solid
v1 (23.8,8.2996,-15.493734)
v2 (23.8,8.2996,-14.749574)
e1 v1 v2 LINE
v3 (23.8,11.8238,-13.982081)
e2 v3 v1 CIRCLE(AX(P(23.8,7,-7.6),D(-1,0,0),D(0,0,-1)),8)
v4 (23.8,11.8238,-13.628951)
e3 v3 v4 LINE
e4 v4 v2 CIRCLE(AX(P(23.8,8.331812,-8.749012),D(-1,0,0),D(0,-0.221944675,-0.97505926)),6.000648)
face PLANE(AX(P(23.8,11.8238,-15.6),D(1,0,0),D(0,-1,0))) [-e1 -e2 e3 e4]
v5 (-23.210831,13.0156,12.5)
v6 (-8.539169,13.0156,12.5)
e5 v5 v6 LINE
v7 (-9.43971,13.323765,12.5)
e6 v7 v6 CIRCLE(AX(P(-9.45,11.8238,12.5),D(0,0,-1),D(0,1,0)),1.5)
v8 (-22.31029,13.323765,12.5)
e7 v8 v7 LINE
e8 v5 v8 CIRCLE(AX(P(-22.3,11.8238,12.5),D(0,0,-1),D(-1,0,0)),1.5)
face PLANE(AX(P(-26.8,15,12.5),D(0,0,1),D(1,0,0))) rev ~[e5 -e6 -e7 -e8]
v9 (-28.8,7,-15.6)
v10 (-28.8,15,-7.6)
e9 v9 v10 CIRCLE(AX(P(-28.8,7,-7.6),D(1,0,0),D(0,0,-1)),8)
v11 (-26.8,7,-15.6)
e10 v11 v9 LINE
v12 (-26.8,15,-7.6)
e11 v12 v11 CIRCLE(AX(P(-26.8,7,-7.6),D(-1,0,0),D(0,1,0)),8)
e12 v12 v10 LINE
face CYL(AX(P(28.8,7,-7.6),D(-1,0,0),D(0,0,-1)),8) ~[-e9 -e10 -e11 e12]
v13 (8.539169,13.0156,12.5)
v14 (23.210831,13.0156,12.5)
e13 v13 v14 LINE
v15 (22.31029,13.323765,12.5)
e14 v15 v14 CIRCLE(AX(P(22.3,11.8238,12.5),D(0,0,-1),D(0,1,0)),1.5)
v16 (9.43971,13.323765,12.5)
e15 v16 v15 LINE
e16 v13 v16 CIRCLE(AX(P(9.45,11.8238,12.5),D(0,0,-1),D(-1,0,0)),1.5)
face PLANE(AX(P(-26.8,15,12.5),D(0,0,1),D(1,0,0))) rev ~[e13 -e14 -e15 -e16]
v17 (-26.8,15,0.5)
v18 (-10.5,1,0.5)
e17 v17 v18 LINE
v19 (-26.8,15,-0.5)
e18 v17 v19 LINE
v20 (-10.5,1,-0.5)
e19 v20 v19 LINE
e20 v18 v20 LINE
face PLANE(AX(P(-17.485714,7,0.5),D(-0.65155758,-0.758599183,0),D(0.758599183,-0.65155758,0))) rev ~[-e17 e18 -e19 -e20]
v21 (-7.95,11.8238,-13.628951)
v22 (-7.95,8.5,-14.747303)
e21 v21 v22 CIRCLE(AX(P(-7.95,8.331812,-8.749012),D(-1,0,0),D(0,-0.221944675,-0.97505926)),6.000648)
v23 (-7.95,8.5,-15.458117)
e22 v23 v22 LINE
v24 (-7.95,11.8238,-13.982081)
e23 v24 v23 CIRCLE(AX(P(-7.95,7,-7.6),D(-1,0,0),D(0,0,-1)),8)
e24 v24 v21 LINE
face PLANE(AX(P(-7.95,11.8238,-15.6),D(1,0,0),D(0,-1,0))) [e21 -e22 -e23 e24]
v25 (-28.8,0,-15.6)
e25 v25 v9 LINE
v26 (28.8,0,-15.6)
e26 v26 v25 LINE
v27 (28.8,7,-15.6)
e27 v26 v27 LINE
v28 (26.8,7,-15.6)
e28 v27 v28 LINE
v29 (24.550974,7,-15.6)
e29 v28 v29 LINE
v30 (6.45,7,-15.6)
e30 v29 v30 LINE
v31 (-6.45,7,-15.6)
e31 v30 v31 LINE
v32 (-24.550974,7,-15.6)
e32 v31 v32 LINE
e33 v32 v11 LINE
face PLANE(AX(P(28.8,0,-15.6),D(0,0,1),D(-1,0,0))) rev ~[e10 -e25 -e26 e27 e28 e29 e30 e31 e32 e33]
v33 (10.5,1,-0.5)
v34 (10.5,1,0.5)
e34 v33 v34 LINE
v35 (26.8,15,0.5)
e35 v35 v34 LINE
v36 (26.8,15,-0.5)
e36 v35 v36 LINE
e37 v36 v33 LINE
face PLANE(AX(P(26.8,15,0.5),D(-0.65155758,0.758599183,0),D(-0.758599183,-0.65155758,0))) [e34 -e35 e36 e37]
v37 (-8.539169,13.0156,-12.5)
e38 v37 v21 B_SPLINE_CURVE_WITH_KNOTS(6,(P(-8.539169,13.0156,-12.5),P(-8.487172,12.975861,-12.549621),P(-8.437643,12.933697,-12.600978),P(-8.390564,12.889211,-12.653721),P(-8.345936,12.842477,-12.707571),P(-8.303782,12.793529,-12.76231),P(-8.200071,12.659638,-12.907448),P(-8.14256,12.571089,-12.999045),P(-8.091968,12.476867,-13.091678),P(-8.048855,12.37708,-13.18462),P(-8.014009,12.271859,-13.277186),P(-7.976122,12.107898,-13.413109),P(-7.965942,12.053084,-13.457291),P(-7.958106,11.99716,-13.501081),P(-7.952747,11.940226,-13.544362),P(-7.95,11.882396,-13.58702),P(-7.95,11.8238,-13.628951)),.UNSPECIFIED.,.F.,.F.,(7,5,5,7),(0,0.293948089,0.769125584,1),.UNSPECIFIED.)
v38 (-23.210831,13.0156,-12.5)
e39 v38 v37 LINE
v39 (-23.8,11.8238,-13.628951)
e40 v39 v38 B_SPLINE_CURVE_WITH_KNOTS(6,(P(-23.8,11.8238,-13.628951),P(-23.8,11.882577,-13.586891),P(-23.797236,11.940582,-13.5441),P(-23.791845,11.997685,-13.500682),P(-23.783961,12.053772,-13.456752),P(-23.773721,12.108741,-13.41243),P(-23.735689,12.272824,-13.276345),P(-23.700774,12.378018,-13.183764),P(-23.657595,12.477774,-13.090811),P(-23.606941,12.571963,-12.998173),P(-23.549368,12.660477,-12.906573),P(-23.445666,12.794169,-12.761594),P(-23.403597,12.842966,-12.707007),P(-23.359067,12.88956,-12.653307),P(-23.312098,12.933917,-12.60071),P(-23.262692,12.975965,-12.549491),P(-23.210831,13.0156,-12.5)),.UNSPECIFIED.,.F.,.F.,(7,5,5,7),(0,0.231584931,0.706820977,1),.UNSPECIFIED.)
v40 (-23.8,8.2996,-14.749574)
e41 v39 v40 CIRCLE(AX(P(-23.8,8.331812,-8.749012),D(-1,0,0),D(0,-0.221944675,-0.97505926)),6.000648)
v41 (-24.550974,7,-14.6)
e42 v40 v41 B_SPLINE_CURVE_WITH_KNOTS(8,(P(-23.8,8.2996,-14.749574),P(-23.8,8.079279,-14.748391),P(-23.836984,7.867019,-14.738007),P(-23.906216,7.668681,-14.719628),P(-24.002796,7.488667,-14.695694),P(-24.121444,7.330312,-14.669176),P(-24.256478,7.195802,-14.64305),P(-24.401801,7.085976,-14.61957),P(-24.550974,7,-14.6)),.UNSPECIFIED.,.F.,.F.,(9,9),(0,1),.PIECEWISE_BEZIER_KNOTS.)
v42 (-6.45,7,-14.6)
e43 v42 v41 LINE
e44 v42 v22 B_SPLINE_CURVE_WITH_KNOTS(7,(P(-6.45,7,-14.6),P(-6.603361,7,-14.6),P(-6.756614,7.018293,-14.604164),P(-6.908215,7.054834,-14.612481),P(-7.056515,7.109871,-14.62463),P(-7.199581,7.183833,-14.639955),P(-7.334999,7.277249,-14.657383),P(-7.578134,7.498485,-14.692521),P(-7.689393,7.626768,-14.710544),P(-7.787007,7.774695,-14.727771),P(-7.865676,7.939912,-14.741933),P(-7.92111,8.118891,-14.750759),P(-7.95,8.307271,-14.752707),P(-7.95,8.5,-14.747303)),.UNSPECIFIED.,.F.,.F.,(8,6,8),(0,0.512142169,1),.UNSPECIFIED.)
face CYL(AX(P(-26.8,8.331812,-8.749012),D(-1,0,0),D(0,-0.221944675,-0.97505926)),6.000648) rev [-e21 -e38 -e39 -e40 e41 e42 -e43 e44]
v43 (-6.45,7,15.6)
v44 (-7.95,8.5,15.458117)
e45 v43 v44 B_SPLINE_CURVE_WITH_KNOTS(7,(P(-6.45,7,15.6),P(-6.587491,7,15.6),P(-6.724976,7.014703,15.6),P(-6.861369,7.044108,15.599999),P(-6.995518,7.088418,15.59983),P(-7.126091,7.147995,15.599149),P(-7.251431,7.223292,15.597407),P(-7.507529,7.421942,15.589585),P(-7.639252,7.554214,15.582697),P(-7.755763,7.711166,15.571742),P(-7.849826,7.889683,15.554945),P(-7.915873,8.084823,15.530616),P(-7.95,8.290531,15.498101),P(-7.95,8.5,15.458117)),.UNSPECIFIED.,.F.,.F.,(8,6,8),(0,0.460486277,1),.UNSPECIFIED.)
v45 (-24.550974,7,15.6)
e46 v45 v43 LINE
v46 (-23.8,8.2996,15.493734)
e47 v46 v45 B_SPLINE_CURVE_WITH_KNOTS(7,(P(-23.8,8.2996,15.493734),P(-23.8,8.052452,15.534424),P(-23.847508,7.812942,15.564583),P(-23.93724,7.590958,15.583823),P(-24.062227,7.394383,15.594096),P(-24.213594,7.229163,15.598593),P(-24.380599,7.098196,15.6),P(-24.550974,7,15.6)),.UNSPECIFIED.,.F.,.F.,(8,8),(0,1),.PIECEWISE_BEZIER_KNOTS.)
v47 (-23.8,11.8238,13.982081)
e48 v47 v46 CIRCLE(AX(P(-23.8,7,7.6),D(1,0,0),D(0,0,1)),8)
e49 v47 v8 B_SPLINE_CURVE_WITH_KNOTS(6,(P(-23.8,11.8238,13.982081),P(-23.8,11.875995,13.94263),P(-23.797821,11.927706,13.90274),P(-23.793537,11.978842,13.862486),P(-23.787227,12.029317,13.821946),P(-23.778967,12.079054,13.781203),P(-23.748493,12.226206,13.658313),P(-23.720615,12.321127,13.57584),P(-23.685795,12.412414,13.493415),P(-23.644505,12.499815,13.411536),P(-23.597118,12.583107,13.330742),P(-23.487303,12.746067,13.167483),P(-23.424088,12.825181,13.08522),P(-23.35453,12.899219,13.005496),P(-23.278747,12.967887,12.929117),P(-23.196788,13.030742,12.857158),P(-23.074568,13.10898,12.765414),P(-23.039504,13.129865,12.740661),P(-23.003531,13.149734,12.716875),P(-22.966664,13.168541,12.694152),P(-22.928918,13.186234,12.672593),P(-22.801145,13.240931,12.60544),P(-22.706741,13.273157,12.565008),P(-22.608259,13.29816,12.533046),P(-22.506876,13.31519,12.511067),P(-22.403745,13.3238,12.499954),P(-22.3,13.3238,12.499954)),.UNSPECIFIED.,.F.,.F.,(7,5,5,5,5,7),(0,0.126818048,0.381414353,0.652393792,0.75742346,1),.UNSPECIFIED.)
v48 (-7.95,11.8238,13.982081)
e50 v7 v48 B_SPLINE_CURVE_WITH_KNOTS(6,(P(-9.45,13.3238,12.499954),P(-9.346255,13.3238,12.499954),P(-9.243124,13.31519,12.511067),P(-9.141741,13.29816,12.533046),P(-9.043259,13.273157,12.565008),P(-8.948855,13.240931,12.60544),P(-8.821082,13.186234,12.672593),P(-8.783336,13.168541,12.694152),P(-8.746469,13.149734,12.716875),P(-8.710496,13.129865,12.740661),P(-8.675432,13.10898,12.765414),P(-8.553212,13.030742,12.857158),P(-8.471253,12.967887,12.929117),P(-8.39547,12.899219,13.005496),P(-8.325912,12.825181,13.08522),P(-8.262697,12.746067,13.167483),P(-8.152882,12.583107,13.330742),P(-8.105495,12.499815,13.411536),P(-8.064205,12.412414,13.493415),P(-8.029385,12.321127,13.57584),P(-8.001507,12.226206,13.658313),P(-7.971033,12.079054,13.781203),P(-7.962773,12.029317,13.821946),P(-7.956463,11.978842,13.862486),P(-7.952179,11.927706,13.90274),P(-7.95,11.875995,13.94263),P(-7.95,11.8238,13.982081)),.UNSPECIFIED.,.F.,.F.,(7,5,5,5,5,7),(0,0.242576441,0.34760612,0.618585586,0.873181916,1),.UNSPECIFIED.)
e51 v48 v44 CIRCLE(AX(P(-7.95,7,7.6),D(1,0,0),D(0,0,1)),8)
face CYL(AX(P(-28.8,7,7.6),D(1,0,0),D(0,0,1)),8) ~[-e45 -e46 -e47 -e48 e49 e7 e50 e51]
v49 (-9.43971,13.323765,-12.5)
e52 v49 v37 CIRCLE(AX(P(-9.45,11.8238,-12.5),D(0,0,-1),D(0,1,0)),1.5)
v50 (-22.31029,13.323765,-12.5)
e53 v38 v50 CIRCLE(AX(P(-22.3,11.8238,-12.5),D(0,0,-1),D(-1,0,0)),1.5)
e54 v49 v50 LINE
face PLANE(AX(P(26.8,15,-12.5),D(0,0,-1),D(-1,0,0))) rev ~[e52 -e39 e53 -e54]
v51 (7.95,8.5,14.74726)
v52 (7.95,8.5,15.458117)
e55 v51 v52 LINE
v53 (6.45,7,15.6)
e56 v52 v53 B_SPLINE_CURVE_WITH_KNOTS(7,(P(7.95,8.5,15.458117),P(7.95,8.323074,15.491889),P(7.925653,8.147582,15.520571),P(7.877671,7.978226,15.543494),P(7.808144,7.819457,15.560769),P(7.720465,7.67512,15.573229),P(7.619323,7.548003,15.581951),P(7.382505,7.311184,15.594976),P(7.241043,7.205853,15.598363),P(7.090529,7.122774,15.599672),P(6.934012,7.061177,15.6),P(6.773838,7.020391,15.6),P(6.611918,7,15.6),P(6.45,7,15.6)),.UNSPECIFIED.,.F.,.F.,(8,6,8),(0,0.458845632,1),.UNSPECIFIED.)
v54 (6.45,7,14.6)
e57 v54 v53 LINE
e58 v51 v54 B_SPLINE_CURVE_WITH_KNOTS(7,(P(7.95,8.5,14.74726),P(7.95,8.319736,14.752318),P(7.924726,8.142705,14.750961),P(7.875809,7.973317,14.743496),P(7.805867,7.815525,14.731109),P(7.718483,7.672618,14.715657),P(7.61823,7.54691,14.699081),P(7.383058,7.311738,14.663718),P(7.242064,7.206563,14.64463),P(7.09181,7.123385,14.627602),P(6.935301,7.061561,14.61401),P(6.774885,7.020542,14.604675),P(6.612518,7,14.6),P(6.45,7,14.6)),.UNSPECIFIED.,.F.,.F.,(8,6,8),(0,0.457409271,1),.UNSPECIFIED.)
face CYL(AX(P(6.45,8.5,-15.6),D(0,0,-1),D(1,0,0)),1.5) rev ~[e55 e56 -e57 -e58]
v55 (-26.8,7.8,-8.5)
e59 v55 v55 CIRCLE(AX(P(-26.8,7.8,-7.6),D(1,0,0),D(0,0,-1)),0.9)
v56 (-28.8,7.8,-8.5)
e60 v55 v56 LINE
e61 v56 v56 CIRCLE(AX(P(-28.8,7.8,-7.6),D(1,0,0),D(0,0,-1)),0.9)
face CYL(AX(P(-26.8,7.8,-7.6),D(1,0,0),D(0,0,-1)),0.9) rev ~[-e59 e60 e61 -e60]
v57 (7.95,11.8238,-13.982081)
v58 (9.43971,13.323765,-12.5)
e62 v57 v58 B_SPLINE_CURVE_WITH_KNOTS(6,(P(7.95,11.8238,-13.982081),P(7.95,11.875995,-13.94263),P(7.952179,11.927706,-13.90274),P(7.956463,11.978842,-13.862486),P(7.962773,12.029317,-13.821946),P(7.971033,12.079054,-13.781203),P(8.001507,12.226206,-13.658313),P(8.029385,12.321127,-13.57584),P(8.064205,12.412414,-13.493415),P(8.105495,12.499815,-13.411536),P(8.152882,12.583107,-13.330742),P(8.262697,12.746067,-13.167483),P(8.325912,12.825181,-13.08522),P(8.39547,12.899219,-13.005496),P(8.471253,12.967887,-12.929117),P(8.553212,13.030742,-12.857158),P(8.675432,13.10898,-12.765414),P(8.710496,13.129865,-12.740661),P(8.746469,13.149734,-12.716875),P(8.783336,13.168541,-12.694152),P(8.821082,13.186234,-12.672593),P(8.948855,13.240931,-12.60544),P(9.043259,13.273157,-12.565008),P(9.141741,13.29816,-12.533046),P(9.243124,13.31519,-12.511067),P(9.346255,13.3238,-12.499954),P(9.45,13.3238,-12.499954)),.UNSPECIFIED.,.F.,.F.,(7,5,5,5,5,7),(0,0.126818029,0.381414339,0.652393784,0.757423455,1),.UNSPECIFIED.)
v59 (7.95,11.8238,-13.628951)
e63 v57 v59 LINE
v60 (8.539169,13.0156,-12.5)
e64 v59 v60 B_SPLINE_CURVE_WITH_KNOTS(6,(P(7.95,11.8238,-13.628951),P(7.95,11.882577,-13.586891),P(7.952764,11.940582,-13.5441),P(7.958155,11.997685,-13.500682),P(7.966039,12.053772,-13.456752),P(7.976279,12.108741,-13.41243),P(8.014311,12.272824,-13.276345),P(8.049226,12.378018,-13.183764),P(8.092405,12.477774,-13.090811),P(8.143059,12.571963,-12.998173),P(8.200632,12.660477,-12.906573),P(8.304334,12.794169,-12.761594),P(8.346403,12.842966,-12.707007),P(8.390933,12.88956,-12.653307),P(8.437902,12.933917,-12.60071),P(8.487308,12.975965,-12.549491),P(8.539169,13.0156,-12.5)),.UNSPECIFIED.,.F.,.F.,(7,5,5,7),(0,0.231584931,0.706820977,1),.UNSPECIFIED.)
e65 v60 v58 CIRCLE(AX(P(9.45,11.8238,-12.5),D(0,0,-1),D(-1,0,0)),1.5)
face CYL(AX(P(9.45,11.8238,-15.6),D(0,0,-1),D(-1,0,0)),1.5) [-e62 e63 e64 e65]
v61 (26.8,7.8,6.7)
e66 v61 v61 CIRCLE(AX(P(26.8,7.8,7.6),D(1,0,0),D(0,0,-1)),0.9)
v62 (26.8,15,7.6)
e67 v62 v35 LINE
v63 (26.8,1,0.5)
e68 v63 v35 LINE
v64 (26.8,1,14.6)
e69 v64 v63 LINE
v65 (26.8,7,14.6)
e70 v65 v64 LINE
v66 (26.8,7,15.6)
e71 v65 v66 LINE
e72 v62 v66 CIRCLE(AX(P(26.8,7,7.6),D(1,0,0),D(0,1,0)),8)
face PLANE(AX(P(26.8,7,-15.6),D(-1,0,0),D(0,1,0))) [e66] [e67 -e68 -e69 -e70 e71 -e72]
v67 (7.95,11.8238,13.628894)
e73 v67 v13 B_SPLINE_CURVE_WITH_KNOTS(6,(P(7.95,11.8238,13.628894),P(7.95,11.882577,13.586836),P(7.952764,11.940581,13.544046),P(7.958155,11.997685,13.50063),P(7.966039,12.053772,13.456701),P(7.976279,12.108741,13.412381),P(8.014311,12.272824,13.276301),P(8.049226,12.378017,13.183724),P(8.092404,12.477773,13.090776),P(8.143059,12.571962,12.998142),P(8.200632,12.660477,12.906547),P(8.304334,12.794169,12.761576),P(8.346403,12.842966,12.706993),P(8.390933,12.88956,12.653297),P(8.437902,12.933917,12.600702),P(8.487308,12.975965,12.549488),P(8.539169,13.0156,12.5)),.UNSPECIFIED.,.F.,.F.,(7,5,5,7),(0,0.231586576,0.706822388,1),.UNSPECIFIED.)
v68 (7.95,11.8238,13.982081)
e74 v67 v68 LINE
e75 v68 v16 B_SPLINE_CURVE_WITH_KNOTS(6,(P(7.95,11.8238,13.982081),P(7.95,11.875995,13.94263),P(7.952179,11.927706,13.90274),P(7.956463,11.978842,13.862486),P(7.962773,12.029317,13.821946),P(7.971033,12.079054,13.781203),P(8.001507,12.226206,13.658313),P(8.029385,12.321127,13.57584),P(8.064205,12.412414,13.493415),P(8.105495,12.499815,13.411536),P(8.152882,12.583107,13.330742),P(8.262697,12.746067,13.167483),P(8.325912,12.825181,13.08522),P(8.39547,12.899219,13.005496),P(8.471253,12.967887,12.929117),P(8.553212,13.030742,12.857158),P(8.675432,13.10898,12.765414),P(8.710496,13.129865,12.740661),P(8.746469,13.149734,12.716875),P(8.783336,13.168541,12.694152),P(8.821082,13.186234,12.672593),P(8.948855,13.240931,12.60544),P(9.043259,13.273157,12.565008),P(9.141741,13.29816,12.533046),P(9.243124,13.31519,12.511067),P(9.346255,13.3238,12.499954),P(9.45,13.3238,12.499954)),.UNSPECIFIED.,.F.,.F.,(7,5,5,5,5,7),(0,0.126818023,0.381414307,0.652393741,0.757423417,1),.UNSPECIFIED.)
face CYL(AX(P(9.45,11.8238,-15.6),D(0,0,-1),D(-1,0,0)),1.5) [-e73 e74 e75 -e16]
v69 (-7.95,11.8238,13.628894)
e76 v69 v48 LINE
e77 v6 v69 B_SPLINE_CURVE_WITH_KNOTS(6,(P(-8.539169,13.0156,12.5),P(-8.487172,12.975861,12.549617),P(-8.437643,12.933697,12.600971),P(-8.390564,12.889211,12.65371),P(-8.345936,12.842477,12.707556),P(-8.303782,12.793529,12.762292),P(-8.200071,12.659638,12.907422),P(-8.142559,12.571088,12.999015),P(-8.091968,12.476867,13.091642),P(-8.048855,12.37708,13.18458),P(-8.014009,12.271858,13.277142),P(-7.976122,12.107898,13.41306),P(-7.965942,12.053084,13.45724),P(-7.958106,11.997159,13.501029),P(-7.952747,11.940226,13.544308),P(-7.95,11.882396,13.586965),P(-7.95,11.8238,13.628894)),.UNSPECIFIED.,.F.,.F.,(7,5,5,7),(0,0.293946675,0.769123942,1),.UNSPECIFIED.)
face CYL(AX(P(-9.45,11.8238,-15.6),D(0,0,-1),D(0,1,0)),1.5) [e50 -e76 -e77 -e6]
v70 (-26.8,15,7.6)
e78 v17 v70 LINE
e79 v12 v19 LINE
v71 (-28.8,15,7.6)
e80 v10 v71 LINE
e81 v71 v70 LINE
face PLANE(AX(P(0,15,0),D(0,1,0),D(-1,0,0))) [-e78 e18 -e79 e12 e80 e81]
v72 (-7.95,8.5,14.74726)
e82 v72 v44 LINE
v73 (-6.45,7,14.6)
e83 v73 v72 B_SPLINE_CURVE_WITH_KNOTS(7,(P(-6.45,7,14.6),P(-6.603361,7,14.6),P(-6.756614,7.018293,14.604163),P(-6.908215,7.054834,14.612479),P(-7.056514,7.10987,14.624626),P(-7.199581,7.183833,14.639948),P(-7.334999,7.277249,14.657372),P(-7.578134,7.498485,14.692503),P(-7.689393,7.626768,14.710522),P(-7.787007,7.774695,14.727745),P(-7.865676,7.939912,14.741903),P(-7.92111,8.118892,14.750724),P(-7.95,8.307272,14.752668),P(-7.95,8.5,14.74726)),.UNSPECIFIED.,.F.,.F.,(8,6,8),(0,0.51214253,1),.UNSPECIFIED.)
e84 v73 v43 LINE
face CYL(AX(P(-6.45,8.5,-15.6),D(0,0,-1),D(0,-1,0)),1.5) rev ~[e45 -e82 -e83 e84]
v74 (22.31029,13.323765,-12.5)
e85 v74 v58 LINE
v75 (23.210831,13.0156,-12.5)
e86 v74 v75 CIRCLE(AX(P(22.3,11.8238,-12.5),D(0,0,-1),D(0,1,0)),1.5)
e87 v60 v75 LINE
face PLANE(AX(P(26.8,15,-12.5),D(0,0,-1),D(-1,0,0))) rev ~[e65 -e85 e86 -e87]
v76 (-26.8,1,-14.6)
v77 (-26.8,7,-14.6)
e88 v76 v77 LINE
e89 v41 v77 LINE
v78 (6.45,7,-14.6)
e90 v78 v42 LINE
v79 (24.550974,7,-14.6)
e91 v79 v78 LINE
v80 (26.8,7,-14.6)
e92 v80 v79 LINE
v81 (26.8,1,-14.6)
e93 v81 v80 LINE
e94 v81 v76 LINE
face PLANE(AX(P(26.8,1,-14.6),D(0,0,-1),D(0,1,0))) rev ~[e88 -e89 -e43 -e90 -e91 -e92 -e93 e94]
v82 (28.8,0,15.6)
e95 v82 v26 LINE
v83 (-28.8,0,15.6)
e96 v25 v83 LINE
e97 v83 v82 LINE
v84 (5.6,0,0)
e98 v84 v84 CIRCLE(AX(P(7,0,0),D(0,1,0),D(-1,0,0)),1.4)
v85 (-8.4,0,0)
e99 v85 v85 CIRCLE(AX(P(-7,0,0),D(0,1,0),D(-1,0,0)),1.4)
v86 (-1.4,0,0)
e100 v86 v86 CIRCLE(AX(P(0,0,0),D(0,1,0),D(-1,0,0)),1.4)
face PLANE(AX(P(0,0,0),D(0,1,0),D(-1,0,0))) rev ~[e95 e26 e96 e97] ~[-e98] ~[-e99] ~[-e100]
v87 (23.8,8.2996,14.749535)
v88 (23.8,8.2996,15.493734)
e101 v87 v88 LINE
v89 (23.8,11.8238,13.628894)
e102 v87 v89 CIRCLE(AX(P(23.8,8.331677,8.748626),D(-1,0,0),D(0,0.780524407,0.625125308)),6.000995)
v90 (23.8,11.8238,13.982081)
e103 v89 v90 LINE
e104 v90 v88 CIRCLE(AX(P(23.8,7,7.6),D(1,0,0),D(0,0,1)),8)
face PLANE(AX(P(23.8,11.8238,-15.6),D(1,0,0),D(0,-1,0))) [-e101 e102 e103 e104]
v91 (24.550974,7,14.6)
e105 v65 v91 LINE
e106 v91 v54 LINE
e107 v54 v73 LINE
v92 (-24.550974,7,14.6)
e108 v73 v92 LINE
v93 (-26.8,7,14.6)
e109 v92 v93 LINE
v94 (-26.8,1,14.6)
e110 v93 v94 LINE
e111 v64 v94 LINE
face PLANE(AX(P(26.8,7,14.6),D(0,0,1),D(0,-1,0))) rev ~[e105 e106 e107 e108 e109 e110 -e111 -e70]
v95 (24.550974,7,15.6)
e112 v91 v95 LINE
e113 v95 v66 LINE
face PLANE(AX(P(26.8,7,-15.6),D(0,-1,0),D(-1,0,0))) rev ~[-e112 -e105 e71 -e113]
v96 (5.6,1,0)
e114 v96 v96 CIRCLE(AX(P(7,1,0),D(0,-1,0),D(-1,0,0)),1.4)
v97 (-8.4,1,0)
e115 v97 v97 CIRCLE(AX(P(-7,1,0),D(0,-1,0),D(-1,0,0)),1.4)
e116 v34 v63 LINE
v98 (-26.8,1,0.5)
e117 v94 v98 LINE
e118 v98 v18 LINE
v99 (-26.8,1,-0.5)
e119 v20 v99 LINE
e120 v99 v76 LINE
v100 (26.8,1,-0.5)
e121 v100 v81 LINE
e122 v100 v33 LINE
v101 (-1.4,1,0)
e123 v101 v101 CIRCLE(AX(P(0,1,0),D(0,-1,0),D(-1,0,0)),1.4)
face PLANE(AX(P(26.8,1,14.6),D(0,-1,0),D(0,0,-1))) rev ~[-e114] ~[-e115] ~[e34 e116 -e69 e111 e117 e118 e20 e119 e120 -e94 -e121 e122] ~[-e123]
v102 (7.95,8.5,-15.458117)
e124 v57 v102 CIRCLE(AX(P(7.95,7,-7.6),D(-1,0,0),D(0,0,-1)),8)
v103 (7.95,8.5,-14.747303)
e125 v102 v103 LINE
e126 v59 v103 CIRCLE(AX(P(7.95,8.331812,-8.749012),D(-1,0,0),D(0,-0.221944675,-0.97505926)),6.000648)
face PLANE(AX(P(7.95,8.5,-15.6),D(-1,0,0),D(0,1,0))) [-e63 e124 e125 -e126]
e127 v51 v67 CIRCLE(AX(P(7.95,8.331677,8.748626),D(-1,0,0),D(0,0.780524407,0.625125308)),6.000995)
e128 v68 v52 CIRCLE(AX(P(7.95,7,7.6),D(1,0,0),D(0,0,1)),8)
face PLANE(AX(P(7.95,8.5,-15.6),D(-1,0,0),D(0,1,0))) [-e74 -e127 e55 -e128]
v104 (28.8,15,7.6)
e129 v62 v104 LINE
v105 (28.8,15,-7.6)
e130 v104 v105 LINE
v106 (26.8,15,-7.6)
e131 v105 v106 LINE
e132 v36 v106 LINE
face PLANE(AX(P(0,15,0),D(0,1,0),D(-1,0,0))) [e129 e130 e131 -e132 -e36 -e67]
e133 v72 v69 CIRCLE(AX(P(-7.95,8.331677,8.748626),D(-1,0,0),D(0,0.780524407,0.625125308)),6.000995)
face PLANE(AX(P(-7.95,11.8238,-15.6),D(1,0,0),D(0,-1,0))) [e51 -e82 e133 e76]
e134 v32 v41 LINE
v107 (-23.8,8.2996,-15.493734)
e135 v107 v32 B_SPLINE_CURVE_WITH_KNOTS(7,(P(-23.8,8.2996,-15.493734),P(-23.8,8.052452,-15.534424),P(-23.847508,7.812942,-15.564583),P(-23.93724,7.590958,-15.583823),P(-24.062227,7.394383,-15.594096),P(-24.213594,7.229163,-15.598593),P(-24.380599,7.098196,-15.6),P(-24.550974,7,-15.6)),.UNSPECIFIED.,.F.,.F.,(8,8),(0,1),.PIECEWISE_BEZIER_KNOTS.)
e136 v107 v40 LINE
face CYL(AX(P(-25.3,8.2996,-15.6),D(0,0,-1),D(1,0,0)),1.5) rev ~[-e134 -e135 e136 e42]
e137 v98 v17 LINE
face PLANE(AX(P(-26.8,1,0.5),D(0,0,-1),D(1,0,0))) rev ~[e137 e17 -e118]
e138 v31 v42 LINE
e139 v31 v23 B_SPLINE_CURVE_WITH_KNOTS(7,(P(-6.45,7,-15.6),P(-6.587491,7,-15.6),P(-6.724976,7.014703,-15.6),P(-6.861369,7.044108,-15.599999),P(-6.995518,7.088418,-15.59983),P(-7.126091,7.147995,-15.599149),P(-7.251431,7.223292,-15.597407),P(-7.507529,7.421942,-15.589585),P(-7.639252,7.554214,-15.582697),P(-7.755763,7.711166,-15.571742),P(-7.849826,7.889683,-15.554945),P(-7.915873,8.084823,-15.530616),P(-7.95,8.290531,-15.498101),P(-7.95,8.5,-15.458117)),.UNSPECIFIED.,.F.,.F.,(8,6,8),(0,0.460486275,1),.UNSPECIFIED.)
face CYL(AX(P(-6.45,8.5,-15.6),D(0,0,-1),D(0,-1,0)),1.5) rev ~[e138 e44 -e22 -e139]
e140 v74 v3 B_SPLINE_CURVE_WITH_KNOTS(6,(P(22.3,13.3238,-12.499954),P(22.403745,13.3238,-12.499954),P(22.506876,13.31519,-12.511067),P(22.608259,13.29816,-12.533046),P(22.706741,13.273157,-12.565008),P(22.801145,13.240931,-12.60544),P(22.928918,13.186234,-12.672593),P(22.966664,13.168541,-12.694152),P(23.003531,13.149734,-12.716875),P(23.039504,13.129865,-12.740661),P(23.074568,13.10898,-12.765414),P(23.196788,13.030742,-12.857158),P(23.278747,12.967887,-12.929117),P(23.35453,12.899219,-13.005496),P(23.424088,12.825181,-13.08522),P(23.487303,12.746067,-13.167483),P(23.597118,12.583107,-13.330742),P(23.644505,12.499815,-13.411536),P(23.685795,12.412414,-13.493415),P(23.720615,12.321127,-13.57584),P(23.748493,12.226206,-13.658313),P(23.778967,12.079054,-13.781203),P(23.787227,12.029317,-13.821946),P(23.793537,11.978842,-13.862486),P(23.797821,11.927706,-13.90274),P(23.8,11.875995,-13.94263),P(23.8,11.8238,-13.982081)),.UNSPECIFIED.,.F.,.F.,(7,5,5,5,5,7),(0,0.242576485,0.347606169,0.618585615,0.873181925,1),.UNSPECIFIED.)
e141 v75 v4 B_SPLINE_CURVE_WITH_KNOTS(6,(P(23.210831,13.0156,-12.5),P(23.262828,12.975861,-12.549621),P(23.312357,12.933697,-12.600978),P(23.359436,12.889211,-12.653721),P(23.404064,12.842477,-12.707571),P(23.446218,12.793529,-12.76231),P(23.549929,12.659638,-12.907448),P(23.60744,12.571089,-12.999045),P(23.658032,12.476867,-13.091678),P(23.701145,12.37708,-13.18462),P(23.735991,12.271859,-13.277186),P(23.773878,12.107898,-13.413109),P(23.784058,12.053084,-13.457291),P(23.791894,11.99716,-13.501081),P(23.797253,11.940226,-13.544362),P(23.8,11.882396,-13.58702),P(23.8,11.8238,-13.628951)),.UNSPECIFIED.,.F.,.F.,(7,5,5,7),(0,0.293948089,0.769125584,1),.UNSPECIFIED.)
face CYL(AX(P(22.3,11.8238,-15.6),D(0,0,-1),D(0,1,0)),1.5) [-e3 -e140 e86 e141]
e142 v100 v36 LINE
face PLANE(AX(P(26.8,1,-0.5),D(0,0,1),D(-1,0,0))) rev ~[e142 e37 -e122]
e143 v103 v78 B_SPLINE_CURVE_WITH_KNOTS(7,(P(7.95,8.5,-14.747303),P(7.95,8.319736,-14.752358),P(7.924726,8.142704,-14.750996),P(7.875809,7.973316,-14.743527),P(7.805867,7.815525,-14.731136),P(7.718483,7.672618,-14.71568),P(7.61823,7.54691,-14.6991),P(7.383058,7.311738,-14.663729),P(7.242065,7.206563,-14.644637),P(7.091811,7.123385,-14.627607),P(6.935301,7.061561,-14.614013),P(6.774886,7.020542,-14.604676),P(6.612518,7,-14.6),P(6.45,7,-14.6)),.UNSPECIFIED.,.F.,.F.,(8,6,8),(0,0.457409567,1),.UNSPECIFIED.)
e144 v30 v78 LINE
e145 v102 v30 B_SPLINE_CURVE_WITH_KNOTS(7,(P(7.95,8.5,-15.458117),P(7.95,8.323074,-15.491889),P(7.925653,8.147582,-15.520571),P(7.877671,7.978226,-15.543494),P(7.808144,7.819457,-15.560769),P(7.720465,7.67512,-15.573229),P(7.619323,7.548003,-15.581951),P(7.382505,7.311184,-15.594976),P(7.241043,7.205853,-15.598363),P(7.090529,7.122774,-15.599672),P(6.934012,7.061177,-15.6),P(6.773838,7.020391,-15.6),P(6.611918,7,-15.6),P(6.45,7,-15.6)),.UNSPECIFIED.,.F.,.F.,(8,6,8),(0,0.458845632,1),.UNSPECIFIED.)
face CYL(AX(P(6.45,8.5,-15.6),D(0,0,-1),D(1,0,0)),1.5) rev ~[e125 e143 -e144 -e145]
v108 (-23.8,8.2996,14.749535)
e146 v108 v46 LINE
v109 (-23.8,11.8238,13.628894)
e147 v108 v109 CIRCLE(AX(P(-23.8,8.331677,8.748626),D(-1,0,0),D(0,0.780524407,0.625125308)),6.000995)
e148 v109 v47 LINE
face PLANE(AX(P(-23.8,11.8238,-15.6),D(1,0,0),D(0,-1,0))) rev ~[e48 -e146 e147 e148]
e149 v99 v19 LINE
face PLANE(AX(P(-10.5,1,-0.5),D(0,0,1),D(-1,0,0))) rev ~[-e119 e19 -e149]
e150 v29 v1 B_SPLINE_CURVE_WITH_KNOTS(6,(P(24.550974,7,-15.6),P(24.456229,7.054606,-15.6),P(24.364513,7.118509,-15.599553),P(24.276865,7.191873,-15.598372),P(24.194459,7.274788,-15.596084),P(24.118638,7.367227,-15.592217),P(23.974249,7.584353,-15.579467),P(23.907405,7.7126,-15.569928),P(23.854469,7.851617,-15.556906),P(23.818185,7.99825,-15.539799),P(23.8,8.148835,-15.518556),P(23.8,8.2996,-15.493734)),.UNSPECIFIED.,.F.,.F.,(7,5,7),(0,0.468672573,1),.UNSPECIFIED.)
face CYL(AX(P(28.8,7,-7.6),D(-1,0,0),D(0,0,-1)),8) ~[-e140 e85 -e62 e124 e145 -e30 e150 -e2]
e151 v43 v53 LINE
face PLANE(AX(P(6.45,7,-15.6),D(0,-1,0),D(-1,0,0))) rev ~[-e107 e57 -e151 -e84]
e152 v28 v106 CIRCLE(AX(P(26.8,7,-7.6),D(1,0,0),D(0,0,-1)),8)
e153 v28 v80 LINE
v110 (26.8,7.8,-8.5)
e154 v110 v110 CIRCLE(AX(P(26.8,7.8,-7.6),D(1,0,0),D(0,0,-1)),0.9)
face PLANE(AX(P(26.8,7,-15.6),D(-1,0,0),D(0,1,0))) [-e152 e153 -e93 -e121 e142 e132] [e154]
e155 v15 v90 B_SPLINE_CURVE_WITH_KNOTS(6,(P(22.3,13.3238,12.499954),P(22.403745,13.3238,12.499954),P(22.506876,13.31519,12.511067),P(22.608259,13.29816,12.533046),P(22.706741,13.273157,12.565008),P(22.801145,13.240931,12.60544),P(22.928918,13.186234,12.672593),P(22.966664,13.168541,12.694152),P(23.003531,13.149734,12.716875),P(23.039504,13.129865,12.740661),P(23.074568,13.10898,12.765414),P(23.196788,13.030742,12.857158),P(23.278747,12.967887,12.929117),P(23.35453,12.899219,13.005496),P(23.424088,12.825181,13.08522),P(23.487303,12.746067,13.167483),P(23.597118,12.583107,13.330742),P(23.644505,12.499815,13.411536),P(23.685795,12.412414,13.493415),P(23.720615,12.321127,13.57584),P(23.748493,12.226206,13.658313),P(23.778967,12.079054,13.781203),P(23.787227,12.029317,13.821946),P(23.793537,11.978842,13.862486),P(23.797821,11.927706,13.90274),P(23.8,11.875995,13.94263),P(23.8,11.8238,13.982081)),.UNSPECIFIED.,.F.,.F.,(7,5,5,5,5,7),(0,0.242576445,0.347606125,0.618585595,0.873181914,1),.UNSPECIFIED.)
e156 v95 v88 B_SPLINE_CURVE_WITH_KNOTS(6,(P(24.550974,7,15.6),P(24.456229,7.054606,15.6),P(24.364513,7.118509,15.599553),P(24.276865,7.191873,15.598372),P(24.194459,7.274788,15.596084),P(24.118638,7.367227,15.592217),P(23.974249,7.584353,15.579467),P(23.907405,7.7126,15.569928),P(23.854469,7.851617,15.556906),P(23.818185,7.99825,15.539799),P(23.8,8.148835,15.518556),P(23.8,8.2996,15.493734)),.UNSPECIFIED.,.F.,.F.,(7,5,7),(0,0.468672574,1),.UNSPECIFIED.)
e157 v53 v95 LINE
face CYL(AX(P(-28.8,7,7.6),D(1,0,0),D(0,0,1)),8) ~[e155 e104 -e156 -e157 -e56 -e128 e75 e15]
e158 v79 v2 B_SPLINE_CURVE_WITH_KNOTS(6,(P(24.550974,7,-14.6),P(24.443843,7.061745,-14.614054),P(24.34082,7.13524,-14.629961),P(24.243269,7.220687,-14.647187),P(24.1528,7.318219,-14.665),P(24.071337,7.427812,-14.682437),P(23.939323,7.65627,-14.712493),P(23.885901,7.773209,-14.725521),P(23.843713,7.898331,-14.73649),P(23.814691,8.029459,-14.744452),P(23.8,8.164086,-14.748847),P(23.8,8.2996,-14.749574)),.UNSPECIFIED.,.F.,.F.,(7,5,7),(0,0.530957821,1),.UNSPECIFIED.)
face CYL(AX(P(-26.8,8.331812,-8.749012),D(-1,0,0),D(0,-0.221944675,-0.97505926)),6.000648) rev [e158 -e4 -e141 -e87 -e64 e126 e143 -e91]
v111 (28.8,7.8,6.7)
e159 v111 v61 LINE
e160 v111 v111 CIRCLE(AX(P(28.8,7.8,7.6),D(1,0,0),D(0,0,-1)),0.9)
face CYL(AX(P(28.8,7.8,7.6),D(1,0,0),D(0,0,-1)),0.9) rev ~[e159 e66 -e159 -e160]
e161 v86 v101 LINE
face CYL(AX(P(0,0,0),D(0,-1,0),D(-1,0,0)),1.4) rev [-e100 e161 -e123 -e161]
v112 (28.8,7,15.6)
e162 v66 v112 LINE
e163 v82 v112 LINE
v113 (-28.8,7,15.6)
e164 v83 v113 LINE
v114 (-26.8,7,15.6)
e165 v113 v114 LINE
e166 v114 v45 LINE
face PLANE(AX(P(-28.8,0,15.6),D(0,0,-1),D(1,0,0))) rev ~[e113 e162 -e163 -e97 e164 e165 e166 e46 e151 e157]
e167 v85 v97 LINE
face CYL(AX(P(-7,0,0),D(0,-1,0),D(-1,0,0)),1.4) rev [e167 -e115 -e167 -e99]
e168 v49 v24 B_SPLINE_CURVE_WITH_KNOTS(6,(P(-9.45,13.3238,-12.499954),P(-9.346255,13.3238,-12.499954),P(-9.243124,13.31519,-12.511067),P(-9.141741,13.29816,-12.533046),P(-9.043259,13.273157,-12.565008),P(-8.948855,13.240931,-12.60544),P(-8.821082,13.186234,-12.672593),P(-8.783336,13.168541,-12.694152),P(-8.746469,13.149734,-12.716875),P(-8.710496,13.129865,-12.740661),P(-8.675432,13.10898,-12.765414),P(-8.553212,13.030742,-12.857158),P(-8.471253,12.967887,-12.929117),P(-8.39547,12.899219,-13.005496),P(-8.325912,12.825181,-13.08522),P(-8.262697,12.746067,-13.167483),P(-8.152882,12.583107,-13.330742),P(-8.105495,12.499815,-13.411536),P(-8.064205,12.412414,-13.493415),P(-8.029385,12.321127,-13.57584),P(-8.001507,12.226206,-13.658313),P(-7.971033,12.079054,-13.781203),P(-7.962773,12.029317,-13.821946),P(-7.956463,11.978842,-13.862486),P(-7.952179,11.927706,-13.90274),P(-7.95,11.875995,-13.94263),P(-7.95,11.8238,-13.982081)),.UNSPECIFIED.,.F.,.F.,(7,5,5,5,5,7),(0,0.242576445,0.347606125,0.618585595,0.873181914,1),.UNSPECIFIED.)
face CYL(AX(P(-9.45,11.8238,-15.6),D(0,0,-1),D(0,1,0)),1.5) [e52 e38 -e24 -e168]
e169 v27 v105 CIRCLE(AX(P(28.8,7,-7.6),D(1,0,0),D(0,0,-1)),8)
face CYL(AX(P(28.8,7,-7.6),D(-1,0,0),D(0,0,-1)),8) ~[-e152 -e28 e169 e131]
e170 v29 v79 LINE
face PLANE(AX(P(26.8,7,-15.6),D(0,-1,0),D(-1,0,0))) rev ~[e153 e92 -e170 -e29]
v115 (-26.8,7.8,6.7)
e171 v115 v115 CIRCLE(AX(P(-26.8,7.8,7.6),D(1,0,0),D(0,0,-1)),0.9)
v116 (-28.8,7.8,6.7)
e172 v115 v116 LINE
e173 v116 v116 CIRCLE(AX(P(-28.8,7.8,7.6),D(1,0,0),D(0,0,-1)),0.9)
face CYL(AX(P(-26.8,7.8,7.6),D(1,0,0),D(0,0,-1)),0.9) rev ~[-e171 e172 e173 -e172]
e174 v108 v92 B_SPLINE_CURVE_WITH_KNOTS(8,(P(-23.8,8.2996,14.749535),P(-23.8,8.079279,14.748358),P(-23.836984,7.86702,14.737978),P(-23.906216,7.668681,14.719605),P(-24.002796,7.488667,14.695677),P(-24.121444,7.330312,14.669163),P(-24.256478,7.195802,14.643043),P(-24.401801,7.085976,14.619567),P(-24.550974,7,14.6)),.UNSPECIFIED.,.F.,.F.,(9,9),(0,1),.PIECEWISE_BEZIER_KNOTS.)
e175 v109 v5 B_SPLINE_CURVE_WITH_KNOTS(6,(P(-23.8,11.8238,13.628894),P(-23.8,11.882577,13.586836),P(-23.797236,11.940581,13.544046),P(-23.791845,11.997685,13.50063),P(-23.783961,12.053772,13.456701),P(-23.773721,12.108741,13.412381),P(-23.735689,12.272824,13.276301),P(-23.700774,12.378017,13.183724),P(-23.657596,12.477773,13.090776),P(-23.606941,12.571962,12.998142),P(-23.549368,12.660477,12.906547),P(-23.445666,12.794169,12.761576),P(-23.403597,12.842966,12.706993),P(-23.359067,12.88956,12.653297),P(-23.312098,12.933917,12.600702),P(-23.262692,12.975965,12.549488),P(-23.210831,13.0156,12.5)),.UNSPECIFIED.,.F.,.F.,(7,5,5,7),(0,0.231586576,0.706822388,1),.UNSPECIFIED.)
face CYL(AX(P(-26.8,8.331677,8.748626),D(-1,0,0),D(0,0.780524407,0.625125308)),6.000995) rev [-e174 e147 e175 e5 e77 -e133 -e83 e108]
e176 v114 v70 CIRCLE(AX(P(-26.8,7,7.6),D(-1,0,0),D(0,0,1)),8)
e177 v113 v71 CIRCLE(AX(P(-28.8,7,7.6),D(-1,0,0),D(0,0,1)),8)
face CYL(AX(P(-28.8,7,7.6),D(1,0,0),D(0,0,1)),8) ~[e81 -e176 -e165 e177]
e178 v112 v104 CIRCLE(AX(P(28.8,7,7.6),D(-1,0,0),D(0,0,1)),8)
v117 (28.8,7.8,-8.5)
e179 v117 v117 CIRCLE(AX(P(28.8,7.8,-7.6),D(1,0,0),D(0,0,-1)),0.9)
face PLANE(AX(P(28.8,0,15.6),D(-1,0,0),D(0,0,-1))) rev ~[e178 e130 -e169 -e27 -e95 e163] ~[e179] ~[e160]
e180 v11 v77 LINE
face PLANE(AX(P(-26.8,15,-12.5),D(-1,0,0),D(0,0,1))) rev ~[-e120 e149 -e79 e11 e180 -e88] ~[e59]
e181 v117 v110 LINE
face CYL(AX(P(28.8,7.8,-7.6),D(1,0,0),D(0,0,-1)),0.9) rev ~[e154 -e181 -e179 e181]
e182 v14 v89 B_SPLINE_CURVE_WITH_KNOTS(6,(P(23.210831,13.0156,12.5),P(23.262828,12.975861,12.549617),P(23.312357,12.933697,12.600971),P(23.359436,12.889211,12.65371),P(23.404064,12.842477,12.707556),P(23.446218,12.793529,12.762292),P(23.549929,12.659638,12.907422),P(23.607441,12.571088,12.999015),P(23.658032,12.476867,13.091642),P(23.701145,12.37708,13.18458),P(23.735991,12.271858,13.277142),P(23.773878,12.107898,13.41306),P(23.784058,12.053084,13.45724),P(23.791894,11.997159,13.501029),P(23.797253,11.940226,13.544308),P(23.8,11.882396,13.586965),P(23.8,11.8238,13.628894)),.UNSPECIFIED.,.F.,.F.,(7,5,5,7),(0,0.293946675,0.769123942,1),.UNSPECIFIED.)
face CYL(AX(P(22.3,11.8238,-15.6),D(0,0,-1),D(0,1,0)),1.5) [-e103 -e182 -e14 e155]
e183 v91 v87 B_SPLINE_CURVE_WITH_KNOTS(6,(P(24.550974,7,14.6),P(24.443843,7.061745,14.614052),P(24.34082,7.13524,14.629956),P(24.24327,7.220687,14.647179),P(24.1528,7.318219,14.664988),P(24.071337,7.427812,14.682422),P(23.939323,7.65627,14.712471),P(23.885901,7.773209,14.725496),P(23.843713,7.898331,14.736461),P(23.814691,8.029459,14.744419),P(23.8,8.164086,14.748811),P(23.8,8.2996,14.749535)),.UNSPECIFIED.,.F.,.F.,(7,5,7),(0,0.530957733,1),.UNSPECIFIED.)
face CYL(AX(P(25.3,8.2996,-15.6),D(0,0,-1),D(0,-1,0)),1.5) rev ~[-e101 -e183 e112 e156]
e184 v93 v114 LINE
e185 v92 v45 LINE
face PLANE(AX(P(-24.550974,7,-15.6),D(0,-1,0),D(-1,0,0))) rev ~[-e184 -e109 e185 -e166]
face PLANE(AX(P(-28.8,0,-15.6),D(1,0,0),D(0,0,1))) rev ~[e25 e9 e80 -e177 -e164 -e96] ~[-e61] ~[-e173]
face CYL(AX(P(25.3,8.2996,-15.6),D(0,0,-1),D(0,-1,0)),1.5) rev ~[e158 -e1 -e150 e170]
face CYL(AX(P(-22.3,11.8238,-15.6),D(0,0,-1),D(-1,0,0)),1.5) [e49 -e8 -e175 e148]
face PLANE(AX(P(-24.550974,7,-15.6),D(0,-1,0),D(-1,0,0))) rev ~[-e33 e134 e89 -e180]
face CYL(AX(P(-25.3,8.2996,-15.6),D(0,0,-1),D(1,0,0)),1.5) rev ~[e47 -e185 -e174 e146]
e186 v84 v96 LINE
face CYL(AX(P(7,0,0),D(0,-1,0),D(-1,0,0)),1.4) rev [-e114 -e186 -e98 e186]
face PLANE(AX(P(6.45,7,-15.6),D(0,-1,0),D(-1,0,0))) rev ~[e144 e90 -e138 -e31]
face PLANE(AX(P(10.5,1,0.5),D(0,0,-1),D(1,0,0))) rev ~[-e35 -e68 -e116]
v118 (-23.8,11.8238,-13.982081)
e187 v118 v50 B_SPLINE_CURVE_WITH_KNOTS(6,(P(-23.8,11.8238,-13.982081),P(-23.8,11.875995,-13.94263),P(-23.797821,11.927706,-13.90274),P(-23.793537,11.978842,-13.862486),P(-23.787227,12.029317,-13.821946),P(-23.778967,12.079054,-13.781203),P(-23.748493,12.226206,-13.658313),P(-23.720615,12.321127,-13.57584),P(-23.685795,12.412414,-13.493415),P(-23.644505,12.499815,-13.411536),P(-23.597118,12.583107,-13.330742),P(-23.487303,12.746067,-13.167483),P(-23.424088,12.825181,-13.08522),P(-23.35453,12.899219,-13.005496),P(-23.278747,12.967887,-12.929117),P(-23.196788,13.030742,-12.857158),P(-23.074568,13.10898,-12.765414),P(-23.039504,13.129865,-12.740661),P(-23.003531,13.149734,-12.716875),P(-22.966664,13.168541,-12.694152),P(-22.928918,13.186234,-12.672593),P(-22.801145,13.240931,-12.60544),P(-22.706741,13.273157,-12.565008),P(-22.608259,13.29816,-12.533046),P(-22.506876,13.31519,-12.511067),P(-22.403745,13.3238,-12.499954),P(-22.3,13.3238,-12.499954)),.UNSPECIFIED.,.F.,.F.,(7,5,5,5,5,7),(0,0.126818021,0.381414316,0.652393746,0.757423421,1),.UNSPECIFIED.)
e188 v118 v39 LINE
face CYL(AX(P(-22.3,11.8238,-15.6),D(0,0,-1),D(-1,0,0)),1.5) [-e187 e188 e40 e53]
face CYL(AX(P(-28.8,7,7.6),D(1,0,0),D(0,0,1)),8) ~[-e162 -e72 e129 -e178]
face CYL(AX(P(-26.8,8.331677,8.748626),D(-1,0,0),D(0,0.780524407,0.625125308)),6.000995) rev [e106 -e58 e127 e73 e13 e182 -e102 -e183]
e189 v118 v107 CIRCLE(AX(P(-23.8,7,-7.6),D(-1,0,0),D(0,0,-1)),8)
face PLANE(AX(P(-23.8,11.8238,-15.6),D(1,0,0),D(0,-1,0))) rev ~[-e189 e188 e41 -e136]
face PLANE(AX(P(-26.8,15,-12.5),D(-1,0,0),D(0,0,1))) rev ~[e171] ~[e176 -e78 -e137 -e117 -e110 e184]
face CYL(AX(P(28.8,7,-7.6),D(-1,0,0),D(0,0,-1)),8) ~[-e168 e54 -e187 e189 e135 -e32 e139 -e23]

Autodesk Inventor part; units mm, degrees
ref_plane "YZ Plane" through (0, 0, 0) normal (1, 0, 0) x (0, 1, 0)
sketch "Sketch2" plane through (0, 0, 0) normal (0, 1, 0) x (-1, 0, 0)
  line L0 (28.8, 15.6) -> (-28.8, 15.6)
  line L1 (-28.8, 15.6) -> (-28.8, -15.6)
  line L2 (-28.8, -15.6) -> (28.8, -15.6)
  line L3 (28.8, -15.6) -> (28.8, 15.6)
  line L4 (28.8, 15.6) -> (-28.8, -15.6) construction
  line L5 (-28.8, 15.6) -> (28.8, -15.6) construction
  circle A0 centre (7, 0) radius 1.4
  circle A1 centre (0, 0) radius 1.4
  circle A2 centre (-7, 0) radius 1.4
  dimension "d0" = 57.6
  dimension "d1" = 31.2
  dimension "d2" = 2.8
  dimension "d3" = 21.8
  dimension "d4" = 2.8
  dimension "d5" = 2.8
  dimension "d6" = 7
  dimension "d7" = 7
extrude "Extrusion1" add sketch "Sketch2" along normal blind 15
fillet "Fillet1" radius 8 2 edges at (0, 15, 15.6) (0, 15, -15.6)
ref_plane "Work Plane1" through (26.8, 0, 15.6) normal (1, 0, 0) x (0, 0, -1)
sketch "Sketch3" plane through (26.8, 0, 15.6) normal (1, 0, 0) x (0, 0, -1)
  arc A0 (8, 15) -> (0, 7) centre (8, 7) ccw
  arc A1 (8, 15) -> (0, 7) centre (8, 7) ccw projected
  arc A2 (8, 14) -> (1, 7) centre (8, 7) ccw
  arc A3 (31.2, 7) -> (23.2, 15) centre (23.2, 7) ccw projected
  arc A4 (30.2, 7) -> (23.2, 14) centre (23.2, 7) ccw
  line L0 (1, 7) -> (1, 1)
  line L1 (31.2, 0) -> (0, 0) projected
  line L2 (1, 1) -> (30.2, 1)
  line L3 (31.2, 0) -> (31.2, 7) projected
  line L4 (30.2, 1) -> (30.2, 7)
  line L5 (23.2, 15) -> (8, 15)
  line L6 (23.2, 14) -> (8, 14)
  point P0 (15.6, 0)
  dimension "d12" = 7
  dimension "d13" = 7
  dimension "d14" = 6
  dimension "d15" = 29.2
extrude "Extrusion2" cut sketch "Sketch3" against normal blind 53.6
sketch "Sketch4" plane through (0, 15, 0) normal (0, 1, 0) x (1, 0, 0)
  line L0 (26.8, -14.6) -> (26.8, 14.6) projected
  line L1 (-26.8, -12.5) -> (26.8, -12.5)
  line L2 (26.8, -12.5) -> (26.8, 12.5)
  line L3 (26.8, 12.5) -> (-26.8, 12.5)
  line L4 (-26.8, 12.5) -> (-26.8, -12.5)
  line L5 (-26.8, -12.5) -> (26.8, 12.5) construction
  line L6 (26.8, -12.5) -> (-26.8, 12.5) construction
  point P0 (0, 0)
  dimension "d51" = 25
extrude "Extrusion3" cut sketch "Sketch4" against normal blind 3
ref_plane "Work Plane2" through (28.8, 0, -15.6) normal (0, 0, -1) x (-1, 0, 0)
sketch "Sketch8" plane through (-26.8, 0, 15.6) normal (1, 0, 0) x (0, 0, -1)
  line L0 (3.1, 13.3238) -> (3.1, 12) projected
  arc A0 (3.1, 13.0156) -> (1, 7) centre (6.8512, 8.3318) ccw
  line L1 (8, 15) -> (23.2, 15) projected
  line L2 (15.6, 15) -> (15.6, 0.9201)
  arc A1 (30.2, 7) -> (28.1, 13.0156) centre (24.3488, 8.3318) ccw
  line L3 (28.1, 13.0156) -> (3.1, 13.0156)
  arc A2 (30.2, 7) -> (28.099, 12) centre (23.2, 7) ccw projected
  line L4 (1, 7) -> (30.2, 7)
  point P0 (15.6, 0)
extrude "Extrusion6" cut sketch "Sketch8" along normal blind 53.6
sketch "Sketch9" plane through (28.8, 0, -15.6) normal (0, 0, -1) x (-1, 0, 0)
  line L0 (2, 13.3238) -> (5, 13.3238)
  line L1 (5, 11.8238) -> (5, 8.2996)
  line L2 (3.5, 6.7996) -> (2, 6.7996)
  line L3 (2, 6.7996) -> (2, 13.3238)
  arc A0 (3.5, 6.7996) -> (5, 8.2996) centre (3.5, 8.2996) ccw
  arc A1 (6.5, 13.3238) -> (5, 11.8238) centre (6.5, 11.8238) ccw
  line L4 (5, 13.3238) -> (6.5, 13.3238)
  line L5 (28.8, 0) -> (28.8, 13.3238)
  line L6 (55.6, 13.3238) -> (52.6, 13.3238)
  line L7 (52.6, 11.8238) -> (52.6, 8.2996)
  line L8 (54.1, 6.7996) -> (55.6, 6.7996)
  line L9 (55.6, 6.7996) -> (55.6, 13.3238)
  arc A2 (52.6, 8.2996) -> (54.1, 6.7996) centre (54.1, 8.2996) ccw
  arc A3 (52.6, 11.8238) -> (51.1, 13.3238) centre (51.1, 11.8238) ccw
  line L10 (52.6, 13.3238) -> (51.1, 13.3238)
  line L11 (55.6, 13.3238) -> (2, 13.3238) projected
  line L12 (2, 7) -> (55.6, 7) projected
  line L13 (20.85, 13.3238) -> (36.75, 13.3238)
  line L14 (36.75, 11.8238) -> (36.75, 8.5)
  line L15 (35.25, 7) -> (22.35, 7)
  line L16 (20.85, 8.5) -> (20.85, 11.8238)
  arc A4 (20.85, 8.5) -> (22.35, 7) centre (22.35, 8.5) ccw
  arc A5 (35.25, 7) -> (36.75, 8.5) centre (35.25, 8.5) ccw
  arc A6 (38.25, 13.3238) -> (36.75, 11.8238) centre (38.25, 11.8238) ccw
  arc A7 (20.85, 11.8238) -> (19.35, 13.3238) centre (19.35, 11.8238) ccw
  line L17 (20.85, 13.3238) -> (19.35, 13.3238)
  line L18 (36.75, 13.3238) -> (38.25, 13.3238)
  point P0 (53.3509, 7)
  point P1 (4.2491, 7)
  dimension "d55" = 3
  dimension "d57" = 1.5
  dimension "d58" = 1.5
  dimension "d59" = 3
  dimension "d60" = 1.5
  dimension "d63" = 15.85
  dimension "d64" = 3
  dimension "d65" = 1.5
  dimension "d66" = 1.5
  dimension "d67" = 3
  dimension "d68" = 1.5
  dimension "d69" = 1.5
  dimension "d70" = 3
  dimension "d71" = 1.5
  dimension "d72" = 1.5
  dimension "d73" = 3
  dimension "d74" = 1.5
  dimension "d75" = 1.5
extrude "Extrusion7" cut sketch "Sketch9" against normal blind 53.8 contours L0 L4 A1 L1 A0 L12 L3 | L11 L5 L12 A4 L16 A7 | L5 L11 A6 L14 A5 L12 | A2 L7 A3 L10 L6 L9 L12
sketch "Sketch10" plane through (26.8, 1, 14.6) normal (0, 1, 0) x (1, 0, 0)
  line L0 (0, 0) -> (0, 29.2) projected
  line L1 (0, 14.1) -> (0, 15.1)
  line L2 (-53.6, 15.1) -> (-53.6, 14.1)
  circle A0 centre (-26.8, 14.6) radius 1.4 projected
  line L3 (-53.6, 14.1) -> (0, 15.1) construction
  line L4 (0, 14.1) -> (-53.6, 15.1) construction
  line L5 (-37.3, 14.1) -> (-37.3, 15.1)
  circle A1 centre (-33.8, 14.6) radius 1.4 projected
  line L6 (-16.3, 15.1) -> (-16.3, 14.1)
  circle A2 centre (-19.8, 14.6) radius 1.4 projected
  line L7 (-53.6, 14.1) -> (-37.3, 14.1)
  line L8 (-16.3, 14.1) -> (0, 14.1)
  line L9 (0, 15.1) -> (-16.3, 15.1)
  line L10 (-37.3, 15.1) -> (-53.6, 15.1)
  dimension "d78" = 1
  dimension "d79" = 3.5
  dimension "d80" = 3.5
extrude "Extrusion8" add sketch "Sketch10" along normal blind 14 contours L8 L6 L9 L0 | L10 L5 L7 L2
sketch "Sketch11" plane through (-26.8, 1, 0.5) normal (0, 0, 1) x (1, 0, 0)
  line L0 (16.3, 14) -> (0, 14) projected
  line L1 (16.3, 0) -> (0, 0) projected
  line L2 (0, 14) -> (16.3, 0)
  line L3 (16.3, 0) -> (16.3, 14)
  line L4 (20.35, 6) -> (2.2491, 6) projected
  line L5 (0, 14) -> (16.3, 14) projected
  line L6 (16.3, 14) -> (0, 14)
  point P0 (26.8, -1)
extrude "Extrusion9" cut sketch "Sketch11" against normal blind 1
sketch "Sketch12" plane through (10.5, 1, 0.5) normal (0, 0, 1) x (1, 0, 0)
  line L0 (16.3, 0) -> (0, 0) projected
  line L1 (16.3, 14) -> (0, 0)
  line L2 (0, 14) -> (16.3, 14) projected
  line L3 (0, 0) -> (0, 14)
  line L4 (16.3, 0) -> (16.3, 14) projected
  line L5 (0, 14) -> (16.3, 14)
  point P0 (-10.5, -1)
extrude "Extrusion10" cut sketch "Sketch12" against normal blind 1 contours L3 L2 L1
sketch "Sketch13" plane through (28.8, 0, 15.6) normal (1, 0, 0) x (0, 0, -1)
  circle A0 centre (8, 7.8) radius 0.9
  line L0 (8, 15) -> (23.2, 15) projected
  line L1 (0, 0) -> (0, 7) projected
  line L2 (15.6, 0) -> (15.6, 15)
  line L3 (31.2, 0) -> (31.2, 7) projected
  circle A1 centre (23.2, 7.8) radius 0.9
  dimension "d87" = 1.8
  dimension "d88" = 7.2
  dimension "d89" = 8
  dimension "d90" = 15.6
  dimension "d91" = 15.6
extrude "Extrusion11" cut sketch "Sketch13" against normal blind 2
sketch "Sketch14" plane through (-26.8, 0, 15.6) normal (1, 0, 0) x (0, 0, -1)
  circle A0 centre (8, 7.8) radius 0.9 projected
  circle A1 centre (8, 7.8) radius 0.9
  circle A2 centre (23.2, 7.8) radius 0.9 projected
  circle A3 centre (23.2, 7.8) radius 0.9
  point P0 (15.6, 0)
extrude "Extrusion12" cut sketch "Sketch14" against normal blind 2
properties part number "Main body" material "ABS Plastic"
